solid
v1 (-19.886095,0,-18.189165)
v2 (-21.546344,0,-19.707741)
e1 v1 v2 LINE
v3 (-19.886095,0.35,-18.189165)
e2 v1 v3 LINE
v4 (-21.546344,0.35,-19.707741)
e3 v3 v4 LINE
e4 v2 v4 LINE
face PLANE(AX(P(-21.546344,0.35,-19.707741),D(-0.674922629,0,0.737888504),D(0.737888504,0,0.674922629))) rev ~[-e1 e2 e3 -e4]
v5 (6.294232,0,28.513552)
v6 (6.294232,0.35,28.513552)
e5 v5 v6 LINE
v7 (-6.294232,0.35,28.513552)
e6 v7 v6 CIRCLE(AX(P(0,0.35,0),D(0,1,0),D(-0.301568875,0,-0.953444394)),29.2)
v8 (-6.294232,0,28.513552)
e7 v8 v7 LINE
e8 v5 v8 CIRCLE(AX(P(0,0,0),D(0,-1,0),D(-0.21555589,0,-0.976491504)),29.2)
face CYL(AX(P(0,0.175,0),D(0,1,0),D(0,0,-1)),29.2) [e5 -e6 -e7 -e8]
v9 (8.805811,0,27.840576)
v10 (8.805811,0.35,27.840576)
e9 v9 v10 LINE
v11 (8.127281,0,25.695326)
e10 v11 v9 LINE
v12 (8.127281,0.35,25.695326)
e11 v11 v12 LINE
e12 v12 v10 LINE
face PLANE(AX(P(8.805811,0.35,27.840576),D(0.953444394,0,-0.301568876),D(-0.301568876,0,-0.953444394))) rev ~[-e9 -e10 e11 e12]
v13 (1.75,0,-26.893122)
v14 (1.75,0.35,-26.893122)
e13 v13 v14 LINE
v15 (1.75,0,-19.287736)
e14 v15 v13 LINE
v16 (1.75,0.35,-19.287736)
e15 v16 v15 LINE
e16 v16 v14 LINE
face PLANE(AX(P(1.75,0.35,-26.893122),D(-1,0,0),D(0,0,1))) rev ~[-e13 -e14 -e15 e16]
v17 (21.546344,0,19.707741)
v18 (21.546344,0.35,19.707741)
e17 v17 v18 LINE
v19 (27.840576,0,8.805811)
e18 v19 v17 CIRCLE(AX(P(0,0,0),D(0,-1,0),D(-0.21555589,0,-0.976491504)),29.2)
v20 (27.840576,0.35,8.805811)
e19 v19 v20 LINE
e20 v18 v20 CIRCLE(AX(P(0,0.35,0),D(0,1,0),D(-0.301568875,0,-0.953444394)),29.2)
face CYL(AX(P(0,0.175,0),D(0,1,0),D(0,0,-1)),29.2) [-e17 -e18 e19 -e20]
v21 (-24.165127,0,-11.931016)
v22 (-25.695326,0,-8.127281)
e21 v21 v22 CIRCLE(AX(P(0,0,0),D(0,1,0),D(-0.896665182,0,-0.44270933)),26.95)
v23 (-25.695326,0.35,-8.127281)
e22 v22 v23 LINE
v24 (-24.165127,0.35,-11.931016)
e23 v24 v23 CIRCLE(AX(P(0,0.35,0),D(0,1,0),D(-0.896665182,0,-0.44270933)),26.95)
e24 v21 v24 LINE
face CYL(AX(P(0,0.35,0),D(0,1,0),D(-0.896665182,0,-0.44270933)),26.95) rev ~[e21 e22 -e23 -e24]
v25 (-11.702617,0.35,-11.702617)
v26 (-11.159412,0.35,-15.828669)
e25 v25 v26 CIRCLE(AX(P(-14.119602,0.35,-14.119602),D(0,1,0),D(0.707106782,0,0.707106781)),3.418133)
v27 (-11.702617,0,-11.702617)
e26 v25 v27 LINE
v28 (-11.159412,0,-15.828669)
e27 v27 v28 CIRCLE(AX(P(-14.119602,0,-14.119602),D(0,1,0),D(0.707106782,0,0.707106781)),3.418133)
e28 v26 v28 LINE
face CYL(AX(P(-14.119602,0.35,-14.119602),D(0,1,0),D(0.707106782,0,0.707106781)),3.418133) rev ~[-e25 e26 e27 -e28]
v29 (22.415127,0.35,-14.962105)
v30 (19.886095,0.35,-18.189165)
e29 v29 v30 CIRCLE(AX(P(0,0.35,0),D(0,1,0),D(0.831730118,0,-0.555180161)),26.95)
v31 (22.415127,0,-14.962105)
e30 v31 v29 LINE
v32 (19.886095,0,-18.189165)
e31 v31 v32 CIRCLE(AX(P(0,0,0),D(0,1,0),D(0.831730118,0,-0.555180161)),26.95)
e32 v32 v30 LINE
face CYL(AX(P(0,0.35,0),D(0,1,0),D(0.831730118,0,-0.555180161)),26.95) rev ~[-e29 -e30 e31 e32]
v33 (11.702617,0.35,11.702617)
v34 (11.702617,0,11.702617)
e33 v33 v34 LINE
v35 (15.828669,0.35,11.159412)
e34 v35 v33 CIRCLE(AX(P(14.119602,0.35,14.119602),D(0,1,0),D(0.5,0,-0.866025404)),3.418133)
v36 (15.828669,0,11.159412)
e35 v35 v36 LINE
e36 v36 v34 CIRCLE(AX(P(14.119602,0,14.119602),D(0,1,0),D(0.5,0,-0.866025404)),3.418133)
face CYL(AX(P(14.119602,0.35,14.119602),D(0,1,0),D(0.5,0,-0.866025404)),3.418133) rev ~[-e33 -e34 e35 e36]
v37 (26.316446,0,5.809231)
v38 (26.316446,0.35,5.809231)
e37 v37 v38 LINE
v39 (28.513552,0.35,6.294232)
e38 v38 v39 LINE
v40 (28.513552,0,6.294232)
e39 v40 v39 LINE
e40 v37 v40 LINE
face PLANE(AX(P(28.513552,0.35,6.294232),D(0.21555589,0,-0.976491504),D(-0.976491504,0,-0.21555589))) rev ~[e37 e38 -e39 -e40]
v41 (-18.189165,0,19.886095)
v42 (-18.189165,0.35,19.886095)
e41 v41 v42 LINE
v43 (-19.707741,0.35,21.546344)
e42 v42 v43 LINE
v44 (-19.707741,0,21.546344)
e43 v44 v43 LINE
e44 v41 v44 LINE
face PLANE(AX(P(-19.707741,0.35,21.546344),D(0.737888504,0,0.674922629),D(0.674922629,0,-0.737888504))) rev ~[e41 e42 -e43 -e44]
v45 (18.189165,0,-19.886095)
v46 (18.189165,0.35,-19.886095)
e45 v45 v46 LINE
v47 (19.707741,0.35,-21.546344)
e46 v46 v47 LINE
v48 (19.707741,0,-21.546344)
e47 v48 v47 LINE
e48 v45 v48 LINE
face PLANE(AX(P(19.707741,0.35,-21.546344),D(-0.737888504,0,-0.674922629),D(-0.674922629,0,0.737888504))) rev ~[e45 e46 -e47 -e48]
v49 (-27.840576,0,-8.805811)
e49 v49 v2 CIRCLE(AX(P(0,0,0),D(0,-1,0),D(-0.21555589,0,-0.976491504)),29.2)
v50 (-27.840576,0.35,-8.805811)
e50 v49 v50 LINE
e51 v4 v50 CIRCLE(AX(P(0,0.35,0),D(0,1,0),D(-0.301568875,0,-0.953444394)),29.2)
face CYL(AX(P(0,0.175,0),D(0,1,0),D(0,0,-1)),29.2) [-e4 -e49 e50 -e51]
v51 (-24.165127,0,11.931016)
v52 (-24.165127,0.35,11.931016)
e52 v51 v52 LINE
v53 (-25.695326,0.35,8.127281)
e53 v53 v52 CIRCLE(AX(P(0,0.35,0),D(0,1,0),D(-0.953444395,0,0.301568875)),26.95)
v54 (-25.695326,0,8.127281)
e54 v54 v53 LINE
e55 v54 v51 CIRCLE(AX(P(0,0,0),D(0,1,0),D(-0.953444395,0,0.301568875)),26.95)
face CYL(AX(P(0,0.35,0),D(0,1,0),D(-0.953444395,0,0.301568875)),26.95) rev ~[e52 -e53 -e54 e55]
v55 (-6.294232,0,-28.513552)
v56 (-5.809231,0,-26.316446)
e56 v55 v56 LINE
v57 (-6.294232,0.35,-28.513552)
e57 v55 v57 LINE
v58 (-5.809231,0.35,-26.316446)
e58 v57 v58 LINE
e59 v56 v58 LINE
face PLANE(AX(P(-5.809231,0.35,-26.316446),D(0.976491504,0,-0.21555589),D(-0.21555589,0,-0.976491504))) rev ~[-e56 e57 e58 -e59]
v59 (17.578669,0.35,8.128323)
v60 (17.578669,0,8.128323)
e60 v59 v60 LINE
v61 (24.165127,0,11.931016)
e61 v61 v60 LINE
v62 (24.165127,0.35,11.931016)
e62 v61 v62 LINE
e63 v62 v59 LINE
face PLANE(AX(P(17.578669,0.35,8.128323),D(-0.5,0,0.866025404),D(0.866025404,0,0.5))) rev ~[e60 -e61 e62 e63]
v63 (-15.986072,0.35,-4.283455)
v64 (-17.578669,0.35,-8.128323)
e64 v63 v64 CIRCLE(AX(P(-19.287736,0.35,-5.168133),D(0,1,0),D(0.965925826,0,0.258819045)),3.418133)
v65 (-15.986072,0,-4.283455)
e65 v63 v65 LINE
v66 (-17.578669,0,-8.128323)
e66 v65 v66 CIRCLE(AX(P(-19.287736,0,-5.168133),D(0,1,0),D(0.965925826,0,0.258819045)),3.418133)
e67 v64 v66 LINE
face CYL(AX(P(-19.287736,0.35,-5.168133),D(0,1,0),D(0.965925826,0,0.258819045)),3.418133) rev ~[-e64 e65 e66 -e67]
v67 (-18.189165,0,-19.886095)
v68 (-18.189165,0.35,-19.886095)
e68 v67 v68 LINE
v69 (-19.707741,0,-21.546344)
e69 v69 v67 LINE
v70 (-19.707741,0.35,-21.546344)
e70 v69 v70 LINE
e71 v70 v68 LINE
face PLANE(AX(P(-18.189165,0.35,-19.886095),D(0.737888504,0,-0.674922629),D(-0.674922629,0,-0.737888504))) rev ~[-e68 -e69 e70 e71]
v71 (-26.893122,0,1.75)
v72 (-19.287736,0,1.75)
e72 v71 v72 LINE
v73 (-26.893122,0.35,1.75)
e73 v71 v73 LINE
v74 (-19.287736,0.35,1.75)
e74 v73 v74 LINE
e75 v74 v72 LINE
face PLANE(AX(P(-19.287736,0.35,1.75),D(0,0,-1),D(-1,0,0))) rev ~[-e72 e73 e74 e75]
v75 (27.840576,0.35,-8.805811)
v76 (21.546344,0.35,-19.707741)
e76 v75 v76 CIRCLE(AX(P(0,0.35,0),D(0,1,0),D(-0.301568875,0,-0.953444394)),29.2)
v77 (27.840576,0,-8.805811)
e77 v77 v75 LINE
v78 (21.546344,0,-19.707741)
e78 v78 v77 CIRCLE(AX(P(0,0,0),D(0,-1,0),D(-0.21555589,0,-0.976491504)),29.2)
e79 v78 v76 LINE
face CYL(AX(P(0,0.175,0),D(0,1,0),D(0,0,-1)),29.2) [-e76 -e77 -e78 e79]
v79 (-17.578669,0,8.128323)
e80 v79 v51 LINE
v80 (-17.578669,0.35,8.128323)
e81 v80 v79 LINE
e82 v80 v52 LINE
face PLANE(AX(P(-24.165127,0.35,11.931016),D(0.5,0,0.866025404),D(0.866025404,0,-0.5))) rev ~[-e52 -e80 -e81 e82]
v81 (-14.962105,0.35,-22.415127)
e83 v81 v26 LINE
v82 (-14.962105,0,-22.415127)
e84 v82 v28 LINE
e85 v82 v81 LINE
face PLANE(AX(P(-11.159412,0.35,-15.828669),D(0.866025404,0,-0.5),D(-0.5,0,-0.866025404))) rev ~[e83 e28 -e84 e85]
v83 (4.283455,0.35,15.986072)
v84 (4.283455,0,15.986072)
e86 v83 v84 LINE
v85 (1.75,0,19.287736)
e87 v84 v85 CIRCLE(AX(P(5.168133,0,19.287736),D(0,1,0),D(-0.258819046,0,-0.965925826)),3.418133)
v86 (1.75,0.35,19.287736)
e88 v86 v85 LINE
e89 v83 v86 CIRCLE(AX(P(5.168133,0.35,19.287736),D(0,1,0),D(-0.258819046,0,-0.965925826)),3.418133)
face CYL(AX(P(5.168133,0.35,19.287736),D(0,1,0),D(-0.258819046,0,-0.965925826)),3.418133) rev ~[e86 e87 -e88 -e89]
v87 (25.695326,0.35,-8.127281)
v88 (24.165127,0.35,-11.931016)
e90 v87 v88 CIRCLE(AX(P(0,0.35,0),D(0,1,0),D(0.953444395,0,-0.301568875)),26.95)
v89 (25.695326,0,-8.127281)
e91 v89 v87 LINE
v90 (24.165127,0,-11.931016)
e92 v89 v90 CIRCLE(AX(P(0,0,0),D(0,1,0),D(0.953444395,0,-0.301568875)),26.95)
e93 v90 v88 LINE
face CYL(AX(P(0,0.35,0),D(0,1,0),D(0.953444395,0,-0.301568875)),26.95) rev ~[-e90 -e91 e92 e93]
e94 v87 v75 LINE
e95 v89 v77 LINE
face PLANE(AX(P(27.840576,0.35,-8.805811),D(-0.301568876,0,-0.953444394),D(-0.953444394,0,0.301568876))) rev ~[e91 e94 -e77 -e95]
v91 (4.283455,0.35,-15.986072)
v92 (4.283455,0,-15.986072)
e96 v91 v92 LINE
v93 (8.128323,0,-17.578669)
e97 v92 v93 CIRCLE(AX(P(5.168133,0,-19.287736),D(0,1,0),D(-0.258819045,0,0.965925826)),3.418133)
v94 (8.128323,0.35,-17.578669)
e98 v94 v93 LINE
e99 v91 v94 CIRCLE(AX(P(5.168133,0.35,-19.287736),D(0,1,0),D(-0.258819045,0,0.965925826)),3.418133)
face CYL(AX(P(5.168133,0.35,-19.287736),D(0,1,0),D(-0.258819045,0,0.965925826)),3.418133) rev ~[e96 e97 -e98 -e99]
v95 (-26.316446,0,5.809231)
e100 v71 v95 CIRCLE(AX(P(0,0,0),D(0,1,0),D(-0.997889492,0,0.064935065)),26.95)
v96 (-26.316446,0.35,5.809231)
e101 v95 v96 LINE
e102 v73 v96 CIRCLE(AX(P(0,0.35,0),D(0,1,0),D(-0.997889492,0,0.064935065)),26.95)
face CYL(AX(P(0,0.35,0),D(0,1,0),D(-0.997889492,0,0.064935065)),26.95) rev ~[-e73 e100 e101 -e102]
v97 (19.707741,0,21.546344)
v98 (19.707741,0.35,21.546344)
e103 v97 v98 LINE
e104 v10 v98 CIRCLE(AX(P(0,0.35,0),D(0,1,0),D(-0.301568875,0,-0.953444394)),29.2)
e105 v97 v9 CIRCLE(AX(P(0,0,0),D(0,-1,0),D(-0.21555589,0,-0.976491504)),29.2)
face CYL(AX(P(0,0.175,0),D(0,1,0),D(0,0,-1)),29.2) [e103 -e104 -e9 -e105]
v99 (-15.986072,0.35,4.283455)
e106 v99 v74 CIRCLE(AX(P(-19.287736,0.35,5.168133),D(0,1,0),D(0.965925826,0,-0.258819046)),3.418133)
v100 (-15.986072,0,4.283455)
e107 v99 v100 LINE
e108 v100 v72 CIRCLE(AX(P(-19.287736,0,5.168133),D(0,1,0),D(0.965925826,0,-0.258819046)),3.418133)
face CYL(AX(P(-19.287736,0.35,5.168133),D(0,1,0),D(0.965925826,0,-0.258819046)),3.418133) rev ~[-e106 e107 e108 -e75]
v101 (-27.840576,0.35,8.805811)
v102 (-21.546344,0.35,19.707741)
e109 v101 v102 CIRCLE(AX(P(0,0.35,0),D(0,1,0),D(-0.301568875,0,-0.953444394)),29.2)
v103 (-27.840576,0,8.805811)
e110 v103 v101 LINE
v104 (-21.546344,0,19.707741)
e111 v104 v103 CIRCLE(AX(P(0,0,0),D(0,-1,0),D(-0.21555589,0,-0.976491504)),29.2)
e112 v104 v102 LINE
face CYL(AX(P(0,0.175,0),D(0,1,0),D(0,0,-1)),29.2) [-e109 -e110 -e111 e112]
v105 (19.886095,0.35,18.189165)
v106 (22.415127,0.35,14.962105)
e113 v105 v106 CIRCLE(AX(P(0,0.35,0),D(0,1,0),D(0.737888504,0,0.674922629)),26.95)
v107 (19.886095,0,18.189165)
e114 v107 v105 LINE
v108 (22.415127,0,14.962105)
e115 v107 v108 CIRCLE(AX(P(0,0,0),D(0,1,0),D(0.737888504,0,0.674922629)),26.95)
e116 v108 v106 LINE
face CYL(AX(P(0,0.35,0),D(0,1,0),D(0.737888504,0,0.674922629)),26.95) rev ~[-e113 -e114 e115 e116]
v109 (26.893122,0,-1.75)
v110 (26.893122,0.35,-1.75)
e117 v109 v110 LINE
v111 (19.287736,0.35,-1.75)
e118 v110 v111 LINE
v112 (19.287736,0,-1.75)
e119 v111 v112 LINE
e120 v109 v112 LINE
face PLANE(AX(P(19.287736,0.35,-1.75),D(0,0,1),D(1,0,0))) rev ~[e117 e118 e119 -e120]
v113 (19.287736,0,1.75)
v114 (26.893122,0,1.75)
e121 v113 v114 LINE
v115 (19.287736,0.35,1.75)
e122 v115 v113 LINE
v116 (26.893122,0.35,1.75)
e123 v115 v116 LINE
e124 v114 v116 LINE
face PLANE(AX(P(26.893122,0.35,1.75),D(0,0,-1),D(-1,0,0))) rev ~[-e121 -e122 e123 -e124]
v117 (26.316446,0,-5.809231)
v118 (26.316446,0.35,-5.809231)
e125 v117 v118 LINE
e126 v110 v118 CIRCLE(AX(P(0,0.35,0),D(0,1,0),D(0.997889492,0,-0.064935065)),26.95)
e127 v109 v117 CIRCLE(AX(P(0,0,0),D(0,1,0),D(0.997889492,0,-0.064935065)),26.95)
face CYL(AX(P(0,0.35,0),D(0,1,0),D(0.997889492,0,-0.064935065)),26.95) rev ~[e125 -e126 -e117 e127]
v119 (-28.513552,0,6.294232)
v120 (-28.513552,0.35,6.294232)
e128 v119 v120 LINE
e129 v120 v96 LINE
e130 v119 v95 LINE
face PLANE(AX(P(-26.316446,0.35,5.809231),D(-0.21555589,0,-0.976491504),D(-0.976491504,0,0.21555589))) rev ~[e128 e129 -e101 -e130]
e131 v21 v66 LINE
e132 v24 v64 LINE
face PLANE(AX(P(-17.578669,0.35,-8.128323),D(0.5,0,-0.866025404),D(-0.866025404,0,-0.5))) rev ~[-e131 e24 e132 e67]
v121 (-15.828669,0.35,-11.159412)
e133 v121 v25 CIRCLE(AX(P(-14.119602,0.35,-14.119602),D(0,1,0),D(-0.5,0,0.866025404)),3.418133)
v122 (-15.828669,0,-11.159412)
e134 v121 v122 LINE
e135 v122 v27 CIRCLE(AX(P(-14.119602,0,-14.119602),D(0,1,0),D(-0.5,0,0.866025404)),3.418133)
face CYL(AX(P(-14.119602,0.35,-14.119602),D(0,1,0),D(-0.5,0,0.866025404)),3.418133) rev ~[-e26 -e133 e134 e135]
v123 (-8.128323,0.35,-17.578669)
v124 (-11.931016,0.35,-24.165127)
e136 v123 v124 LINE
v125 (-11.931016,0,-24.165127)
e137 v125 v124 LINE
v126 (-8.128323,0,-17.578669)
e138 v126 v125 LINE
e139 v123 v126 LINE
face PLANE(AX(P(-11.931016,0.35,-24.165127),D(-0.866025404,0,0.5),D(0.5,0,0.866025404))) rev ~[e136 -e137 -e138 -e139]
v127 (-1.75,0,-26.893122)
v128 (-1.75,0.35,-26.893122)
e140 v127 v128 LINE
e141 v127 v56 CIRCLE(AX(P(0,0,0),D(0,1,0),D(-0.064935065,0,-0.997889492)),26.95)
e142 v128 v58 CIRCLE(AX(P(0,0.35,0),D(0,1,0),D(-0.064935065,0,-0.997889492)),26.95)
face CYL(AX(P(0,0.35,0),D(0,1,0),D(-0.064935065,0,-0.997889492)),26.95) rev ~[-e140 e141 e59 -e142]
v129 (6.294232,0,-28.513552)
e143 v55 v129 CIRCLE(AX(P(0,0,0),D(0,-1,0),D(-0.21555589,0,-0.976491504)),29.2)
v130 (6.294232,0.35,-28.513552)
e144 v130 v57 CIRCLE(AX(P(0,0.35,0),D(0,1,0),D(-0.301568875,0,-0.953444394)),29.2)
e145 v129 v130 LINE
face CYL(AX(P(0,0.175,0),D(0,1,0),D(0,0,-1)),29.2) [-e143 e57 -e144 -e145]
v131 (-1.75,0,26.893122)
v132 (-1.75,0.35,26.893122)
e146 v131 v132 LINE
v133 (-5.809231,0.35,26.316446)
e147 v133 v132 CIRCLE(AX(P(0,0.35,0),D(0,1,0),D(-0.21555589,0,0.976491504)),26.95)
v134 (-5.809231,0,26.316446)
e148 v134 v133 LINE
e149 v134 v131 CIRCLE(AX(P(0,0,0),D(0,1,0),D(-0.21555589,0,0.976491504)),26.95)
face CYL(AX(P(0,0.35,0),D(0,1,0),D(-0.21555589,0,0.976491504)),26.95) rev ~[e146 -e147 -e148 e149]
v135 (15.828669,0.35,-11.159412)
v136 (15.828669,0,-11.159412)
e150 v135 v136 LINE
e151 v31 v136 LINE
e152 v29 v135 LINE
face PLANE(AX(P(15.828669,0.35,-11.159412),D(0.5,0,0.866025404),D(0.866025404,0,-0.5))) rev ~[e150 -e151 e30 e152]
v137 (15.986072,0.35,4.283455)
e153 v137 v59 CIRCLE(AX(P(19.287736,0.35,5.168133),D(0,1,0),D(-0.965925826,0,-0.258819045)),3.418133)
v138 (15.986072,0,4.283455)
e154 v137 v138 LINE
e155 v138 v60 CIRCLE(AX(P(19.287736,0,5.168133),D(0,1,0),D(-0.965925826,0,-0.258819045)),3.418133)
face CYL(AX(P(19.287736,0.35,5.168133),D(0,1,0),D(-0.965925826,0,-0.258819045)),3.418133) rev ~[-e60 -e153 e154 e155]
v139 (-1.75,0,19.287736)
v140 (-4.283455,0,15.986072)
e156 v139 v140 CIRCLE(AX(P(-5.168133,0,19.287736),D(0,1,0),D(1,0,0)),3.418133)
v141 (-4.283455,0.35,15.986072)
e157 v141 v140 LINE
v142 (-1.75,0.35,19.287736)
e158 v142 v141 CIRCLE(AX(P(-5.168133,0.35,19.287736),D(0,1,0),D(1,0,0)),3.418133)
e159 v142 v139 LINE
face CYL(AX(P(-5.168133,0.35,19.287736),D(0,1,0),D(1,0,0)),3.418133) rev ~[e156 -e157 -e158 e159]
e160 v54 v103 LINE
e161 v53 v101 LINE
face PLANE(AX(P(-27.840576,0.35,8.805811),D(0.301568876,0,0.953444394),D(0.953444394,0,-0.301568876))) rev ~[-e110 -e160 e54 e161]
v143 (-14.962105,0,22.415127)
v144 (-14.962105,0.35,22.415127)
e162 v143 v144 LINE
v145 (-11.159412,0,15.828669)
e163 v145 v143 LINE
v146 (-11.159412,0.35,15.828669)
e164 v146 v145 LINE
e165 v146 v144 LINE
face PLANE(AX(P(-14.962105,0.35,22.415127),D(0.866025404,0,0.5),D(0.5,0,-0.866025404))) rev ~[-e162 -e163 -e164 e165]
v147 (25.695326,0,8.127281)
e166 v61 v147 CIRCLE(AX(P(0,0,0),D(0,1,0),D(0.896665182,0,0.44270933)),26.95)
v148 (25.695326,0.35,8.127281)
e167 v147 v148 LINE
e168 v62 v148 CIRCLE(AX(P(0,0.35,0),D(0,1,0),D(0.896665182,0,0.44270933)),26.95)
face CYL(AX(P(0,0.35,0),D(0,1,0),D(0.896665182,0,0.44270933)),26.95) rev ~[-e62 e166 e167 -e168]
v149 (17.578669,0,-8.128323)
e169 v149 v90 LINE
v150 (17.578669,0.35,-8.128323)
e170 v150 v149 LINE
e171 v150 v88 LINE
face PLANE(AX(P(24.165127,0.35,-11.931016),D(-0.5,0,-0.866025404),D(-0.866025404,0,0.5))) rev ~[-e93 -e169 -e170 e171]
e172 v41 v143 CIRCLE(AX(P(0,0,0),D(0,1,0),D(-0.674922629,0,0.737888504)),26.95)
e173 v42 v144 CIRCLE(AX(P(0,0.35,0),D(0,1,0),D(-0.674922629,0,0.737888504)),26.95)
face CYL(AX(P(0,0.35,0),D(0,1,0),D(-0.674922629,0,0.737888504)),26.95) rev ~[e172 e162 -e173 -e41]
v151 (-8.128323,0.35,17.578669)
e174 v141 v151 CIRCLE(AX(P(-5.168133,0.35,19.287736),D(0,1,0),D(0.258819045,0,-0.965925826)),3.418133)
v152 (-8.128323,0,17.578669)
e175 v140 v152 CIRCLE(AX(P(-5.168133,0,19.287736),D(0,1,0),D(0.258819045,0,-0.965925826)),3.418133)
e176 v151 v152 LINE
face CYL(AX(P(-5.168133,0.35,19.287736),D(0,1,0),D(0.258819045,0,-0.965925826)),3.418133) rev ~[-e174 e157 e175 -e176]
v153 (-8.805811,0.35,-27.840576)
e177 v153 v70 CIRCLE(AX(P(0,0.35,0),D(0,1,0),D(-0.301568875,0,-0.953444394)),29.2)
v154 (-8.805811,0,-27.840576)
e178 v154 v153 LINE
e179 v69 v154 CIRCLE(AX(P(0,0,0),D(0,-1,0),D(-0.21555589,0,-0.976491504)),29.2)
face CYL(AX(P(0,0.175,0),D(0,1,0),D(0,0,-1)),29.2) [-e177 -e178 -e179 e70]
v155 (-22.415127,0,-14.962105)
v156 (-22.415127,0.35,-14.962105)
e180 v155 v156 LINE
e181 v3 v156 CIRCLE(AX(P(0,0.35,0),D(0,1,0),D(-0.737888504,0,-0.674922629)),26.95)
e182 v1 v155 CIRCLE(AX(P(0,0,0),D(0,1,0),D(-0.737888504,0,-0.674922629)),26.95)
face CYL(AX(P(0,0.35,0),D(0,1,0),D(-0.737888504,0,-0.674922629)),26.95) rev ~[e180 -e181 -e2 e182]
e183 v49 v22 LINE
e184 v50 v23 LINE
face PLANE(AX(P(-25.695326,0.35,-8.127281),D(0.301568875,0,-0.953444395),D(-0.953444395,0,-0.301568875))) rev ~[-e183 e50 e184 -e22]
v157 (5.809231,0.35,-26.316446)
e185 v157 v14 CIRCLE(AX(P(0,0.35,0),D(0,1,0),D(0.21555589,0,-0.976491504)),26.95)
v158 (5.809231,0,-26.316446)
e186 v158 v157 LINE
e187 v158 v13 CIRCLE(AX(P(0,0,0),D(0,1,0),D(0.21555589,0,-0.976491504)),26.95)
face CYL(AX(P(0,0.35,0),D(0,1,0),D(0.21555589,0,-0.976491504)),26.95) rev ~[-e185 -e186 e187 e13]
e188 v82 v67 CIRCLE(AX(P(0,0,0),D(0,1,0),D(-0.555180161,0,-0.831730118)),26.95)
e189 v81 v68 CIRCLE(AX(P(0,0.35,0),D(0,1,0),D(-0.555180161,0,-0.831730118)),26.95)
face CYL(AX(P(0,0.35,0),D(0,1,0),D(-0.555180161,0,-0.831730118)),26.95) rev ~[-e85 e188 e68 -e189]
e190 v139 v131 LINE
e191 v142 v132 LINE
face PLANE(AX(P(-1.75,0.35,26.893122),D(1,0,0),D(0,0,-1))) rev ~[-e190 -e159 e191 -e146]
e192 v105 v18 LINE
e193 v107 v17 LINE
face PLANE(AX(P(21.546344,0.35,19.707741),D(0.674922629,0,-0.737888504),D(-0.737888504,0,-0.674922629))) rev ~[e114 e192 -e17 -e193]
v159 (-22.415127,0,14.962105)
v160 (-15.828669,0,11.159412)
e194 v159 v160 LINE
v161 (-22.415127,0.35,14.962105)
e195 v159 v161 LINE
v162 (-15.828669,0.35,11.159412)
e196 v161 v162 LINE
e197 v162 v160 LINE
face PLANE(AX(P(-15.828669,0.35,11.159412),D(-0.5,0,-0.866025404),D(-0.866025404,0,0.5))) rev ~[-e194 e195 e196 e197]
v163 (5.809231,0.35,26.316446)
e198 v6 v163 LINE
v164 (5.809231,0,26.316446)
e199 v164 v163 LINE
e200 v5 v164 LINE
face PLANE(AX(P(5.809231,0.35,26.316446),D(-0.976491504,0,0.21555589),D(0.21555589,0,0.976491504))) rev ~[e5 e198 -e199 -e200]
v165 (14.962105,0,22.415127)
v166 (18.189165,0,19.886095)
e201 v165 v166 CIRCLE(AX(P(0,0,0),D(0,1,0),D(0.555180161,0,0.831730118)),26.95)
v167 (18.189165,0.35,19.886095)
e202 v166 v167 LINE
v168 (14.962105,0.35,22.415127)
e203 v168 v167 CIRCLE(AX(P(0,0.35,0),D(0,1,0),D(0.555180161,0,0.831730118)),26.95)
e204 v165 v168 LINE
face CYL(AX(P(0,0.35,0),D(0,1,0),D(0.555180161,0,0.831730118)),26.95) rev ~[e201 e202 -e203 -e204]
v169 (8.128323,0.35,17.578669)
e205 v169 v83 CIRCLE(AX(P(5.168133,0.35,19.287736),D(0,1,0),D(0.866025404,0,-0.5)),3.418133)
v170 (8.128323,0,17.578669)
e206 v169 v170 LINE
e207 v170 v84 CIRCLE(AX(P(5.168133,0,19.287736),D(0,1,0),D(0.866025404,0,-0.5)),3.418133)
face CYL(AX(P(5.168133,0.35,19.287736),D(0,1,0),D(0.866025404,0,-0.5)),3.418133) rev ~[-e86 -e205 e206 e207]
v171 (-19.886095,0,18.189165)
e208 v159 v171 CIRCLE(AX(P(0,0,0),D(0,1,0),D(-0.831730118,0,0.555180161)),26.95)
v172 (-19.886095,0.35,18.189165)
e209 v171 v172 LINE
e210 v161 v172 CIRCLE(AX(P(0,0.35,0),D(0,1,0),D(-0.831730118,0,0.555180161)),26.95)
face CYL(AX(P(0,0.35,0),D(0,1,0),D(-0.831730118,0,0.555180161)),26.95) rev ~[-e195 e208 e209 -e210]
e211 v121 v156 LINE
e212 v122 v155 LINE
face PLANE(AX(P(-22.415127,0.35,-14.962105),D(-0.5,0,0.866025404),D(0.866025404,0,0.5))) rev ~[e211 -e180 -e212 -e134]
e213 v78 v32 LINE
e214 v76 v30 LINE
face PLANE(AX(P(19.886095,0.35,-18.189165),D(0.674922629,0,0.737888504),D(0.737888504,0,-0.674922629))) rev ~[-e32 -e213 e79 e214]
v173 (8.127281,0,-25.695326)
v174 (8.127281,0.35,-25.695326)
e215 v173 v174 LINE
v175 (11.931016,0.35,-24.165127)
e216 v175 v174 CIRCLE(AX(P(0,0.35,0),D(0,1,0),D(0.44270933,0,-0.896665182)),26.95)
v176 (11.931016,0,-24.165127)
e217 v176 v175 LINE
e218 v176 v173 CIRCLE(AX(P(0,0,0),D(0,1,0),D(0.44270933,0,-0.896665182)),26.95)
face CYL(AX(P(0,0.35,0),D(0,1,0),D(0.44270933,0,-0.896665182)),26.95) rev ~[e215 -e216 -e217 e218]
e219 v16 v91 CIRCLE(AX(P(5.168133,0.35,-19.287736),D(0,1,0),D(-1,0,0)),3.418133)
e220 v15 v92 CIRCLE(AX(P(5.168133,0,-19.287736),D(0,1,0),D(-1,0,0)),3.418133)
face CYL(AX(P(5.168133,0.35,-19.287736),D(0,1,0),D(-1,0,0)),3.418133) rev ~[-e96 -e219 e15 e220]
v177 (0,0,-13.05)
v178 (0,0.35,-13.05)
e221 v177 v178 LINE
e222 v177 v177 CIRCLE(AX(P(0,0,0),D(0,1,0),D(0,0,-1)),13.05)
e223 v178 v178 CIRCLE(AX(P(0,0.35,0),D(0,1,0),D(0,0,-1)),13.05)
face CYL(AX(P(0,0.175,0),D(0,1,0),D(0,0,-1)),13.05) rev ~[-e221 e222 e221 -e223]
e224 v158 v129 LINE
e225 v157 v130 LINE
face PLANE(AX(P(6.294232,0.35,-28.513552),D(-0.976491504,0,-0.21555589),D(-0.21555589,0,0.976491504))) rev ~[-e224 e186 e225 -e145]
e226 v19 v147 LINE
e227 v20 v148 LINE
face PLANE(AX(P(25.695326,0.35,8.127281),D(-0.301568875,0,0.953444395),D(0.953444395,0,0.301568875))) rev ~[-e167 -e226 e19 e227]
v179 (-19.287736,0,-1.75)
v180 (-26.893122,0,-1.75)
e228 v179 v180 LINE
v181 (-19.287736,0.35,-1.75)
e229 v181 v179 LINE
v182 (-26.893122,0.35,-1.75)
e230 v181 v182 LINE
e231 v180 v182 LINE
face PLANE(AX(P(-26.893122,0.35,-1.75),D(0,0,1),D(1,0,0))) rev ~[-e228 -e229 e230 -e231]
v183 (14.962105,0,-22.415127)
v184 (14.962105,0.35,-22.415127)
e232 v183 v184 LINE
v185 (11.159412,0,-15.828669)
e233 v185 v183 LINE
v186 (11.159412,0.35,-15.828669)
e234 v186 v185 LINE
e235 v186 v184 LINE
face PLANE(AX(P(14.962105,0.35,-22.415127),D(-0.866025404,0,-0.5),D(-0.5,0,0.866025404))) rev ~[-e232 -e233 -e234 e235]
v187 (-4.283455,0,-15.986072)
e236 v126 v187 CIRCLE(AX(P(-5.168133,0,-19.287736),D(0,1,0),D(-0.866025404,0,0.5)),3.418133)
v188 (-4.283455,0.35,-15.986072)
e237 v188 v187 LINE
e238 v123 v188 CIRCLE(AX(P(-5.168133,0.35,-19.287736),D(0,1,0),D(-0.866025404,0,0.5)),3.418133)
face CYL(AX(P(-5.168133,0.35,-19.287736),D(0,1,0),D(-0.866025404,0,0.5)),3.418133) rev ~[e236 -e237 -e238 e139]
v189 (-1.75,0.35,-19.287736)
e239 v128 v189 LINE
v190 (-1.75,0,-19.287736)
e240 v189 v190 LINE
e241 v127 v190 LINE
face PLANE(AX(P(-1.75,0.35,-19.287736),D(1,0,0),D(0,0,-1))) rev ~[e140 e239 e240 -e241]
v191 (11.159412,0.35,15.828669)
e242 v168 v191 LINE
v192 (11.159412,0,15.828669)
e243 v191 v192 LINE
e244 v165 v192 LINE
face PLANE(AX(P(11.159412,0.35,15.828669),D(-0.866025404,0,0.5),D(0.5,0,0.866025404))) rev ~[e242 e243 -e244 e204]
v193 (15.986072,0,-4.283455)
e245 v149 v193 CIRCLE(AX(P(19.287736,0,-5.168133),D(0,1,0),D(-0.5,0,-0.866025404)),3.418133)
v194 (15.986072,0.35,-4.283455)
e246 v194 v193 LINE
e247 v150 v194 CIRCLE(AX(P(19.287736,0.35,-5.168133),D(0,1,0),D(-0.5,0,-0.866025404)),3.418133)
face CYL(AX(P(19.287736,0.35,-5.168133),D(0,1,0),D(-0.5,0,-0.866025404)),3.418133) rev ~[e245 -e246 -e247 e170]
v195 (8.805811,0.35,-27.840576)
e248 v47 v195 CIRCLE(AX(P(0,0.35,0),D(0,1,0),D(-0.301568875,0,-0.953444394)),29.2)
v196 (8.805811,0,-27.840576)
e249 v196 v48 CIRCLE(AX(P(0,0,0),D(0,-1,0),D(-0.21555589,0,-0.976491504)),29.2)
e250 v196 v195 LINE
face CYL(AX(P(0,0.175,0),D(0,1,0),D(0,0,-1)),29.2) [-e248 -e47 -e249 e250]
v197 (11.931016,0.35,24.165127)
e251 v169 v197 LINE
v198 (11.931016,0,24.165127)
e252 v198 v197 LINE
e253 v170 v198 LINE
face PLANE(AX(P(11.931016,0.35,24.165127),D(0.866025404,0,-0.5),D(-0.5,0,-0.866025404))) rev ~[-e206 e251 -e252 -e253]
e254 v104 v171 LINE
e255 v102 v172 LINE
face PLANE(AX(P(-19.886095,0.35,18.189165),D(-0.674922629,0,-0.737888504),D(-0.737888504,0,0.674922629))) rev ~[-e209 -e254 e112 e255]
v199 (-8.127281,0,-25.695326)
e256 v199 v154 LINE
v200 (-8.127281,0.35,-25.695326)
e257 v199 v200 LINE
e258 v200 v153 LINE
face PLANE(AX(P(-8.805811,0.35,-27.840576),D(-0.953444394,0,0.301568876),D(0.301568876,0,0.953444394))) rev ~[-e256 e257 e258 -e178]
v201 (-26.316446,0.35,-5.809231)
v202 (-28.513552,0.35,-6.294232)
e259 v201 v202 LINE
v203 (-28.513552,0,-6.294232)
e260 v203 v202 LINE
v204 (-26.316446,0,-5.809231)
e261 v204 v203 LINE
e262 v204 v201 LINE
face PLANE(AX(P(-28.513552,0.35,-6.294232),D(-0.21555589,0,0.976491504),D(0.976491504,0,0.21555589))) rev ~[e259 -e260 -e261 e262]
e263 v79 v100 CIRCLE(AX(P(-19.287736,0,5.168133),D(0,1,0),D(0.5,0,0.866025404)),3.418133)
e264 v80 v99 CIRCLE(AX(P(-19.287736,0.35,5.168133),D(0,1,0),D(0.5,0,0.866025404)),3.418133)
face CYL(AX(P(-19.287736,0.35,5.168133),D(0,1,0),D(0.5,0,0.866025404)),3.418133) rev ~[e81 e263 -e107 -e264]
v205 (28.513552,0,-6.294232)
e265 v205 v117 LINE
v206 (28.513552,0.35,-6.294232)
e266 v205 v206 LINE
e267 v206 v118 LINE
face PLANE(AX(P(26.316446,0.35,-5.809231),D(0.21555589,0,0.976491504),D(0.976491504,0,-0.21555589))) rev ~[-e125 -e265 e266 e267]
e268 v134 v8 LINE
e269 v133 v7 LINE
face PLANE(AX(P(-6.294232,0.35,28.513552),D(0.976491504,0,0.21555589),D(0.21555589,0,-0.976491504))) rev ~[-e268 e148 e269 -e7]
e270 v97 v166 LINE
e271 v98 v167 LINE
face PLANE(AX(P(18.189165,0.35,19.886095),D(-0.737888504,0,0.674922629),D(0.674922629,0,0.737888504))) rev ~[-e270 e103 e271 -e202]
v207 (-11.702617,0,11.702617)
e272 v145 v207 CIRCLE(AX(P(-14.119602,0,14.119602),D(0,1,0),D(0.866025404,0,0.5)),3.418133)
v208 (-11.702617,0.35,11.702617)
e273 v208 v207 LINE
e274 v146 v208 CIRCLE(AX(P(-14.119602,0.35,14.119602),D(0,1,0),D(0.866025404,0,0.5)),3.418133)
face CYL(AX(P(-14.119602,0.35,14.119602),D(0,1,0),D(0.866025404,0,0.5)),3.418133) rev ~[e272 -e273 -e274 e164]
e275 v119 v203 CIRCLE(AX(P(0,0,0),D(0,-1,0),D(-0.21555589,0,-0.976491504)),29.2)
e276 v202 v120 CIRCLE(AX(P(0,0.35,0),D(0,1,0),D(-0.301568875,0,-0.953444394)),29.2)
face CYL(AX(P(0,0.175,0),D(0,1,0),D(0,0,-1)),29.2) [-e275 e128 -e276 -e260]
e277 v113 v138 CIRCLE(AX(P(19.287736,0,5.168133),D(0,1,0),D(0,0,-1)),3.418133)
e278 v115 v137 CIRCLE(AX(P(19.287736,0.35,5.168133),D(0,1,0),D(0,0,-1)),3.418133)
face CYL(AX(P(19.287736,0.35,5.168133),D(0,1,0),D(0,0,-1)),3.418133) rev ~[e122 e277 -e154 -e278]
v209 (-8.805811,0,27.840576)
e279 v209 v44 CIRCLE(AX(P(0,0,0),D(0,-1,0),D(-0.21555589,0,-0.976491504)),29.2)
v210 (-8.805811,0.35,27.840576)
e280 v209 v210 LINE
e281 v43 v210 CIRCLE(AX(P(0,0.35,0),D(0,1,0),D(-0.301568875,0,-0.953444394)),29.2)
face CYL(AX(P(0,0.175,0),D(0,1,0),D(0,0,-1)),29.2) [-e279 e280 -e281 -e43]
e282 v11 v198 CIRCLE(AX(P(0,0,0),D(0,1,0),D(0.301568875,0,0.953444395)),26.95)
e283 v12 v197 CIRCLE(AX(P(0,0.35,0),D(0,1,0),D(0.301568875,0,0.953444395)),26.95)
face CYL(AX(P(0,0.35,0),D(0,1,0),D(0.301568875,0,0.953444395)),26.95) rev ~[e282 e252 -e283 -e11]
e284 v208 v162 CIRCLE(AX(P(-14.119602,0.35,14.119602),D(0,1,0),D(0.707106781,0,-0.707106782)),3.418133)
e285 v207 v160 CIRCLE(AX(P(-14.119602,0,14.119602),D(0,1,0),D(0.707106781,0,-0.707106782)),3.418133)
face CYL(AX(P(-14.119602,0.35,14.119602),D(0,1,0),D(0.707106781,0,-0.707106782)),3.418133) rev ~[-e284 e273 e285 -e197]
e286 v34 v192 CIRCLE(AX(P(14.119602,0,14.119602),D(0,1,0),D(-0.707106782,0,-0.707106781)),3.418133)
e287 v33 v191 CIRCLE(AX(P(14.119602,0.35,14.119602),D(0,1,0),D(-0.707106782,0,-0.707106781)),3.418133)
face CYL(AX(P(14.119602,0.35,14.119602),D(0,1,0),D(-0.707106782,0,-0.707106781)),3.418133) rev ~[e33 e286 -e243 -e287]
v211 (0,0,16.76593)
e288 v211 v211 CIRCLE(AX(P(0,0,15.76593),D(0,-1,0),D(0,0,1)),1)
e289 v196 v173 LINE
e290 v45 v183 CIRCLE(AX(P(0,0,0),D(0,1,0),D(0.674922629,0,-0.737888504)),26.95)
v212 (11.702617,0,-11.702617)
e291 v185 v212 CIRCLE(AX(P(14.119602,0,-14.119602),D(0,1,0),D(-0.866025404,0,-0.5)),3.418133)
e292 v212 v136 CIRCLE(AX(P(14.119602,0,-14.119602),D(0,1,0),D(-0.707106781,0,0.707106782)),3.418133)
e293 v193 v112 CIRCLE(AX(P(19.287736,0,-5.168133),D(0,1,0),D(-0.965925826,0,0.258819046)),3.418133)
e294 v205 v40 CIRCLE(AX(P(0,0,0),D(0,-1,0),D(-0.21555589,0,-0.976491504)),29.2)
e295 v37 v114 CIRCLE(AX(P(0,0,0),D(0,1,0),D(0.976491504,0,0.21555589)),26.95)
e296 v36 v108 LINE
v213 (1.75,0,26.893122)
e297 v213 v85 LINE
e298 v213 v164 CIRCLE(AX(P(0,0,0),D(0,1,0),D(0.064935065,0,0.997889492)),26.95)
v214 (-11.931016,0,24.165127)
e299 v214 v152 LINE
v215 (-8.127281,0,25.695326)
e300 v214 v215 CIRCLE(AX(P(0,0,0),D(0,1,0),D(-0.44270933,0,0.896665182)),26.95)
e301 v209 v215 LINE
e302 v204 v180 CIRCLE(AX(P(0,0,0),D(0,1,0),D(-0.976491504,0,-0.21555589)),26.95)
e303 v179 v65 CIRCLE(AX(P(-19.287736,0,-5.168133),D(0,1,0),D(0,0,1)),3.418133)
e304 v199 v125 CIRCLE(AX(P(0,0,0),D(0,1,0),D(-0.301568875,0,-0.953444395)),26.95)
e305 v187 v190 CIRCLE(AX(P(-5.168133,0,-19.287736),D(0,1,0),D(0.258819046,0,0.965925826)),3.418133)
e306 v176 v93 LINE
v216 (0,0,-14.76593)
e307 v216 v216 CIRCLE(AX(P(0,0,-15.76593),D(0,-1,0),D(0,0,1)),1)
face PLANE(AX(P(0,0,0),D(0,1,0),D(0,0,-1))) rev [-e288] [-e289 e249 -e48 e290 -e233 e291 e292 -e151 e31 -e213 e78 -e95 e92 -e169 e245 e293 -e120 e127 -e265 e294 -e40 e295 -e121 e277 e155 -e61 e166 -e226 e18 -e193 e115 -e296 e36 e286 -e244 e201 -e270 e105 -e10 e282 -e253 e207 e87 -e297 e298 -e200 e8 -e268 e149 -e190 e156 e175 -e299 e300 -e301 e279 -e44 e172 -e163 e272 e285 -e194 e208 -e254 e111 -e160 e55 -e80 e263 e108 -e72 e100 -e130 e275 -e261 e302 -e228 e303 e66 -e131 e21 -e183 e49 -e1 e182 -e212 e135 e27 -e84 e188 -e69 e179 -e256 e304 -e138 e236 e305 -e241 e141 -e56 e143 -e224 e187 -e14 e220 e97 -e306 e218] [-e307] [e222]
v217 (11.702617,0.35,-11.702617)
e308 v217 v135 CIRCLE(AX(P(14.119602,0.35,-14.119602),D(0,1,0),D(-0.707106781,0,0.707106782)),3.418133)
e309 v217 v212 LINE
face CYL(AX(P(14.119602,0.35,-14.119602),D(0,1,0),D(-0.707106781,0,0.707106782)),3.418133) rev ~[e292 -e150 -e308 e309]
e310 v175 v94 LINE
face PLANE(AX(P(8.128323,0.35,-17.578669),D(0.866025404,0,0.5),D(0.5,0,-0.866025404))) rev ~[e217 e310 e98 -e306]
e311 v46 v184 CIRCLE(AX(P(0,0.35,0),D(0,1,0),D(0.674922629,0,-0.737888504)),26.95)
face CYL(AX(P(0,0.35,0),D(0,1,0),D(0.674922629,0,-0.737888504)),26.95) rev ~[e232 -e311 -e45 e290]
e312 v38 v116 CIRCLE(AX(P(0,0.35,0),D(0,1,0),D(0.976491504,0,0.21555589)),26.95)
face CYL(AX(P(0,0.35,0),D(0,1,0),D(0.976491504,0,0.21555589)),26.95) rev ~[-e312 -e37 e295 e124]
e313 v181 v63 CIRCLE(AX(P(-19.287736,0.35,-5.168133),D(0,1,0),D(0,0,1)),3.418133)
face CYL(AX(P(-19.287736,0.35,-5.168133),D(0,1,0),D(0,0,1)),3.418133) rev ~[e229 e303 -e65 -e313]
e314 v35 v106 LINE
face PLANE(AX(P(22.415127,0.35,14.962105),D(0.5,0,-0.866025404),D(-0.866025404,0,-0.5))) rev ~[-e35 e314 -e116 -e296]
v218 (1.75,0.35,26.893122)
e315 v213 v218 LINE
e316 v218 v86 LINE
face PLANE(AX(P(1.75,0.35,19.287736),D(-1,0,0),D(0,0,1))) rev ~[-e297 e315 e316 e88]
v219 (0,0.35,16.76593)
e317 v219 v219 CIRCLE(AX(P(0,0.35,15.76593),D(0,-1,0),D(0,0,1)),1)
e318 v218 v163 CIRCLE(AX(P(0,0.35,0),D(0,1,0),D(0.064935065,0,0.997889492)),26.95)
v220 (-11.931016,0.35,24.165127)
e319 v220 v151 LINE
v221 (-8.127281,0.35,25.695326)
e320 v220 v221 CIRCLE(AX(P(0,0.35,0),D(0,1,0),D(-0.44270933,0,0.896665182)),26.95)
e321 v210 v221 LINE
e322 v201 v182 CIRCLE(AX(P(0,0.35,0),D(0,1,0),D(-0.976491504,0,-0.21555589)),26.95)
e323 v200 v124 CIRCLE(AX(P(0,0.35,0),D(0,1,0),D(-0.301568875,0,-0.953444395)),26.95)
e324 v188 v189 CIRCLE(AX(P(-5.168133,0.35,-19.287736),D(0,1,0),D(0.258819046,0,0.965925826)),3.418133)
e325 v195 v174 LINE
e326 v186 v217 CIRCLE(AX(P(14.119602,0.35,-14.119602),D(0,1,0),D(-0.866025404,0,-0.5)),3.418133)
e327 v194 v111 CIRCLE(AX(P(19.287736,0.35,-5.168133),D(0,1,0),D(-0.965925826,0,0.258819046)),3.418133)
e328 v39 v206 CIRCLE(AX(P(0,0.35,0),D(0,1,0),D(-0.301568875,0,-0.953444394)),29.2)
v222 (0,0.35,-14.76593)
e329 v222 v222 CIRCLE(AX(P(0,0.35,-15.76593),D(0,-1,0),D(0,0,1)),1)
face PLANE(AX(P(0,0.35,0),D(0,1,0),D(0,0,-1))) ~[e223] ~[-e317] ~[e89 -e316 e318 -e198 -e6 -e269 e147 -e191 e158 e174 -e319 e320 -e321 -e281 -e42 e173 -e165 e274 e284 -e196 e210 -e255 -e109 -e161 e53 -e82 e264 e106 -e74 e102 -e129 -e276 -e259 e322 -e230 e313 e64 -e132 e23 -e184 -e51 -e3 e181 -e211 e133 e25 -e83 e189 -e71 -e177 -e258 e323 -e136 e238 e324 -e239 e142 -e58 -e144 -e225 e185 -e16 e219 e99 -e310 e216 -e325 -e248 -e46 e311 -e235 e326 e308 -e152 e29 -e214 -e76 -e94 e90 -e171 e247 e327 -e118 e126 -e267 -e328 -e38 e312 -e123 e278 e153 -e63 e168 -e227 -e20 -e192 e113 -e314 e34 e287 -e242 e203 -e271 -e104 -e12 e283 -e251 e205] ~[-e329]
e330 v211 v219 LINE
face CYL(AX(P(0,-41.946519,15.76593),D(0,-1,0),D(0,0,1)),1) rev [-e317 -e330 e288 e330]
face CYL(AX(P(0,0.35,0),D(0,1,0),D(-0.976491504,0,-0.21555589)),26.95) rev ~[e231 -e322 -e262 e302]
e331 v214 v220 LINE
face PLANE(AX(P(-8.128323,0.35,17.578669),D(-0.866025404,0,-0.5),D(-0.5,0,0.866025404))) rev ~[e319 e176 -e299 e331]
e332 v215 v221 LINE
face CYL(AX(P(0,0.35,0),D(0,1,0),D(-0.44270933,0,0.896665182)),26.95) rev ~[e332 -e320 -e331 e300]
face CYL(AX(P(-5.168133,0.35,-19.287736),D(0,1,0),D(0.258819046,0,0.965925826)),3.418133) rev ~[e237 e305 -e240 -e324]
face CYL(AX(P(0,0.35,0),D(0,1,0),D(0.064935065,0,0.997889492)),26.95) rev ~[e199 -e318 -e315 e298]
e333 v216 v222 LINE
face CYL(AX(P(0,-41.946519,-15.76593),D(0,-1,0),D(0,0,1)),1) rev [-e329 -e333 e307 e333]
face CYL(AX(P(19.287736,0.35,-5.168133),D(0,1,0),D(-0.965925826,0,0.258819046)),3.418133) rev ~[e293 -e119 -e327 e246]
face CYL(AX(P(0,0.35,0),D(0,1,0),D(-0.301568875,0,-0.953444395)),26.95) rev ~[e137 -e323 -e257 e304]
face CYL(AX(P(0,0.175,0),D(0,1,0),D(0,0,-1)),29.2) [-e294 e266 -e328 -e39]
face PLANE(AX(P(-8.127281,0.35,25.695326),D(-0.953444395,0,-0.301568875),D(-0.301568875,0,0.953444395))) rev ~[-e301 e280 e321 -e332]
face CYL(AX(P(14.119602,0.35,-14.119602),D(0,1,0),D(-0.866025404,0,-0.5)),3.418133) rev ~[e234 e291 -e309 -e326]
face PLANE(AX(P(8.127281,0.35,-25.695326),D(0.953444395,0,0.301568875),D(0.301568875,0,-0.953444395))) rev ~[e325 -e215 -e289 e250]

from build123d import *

# Parameters (mm, degrees)
SKETCH2_W               = 16.15
SKETCH2_H               = 0.35
CUT_EXTRUDE5_DEPTH      = 42.296519224
CIRPATTERN1_COUNT       = 12
CUT_EXTRUDE6_DEPTH      = 42.296519224
CUT_EXTRUDE6_DEPTH_BACK = 42.296519224
SKETCH5_R               = 1


with BuildPart() as part:
    # Sketch2 → Revolve2 (revolve)
    with BuildSketch(Plane.XY, mode=Mode.PRIVATE) as revolve2_sk:
        with Locations((21.125, 0.175)):
            Rectangle(SKETCH2_W, SKETCH2_H)
    revolve(revolve2_sk.sketch.rotate(Axis((0, 0, 0), (0, 1, 0)), 90), axis=Axis((0, 0, 0), (0, 1, 0)))

    # Sketch3 → Cut-Extrude5 (cut, symmetric)
    with BuildSketch(Plane(origin=(0, 0.35, 0), x_dir=(1, 0, 0), z_dir=(0, 1, 0))):
        with BuildLine():
            Line((-1.75, 19.287735518), (-1.75, 26.893121797))
            ThreePointArc((-1.75, 26.893121797), (-3.790597968, 26.682088881), (-5.809231237, 26.316446045))
            Line((-5.809231237, 26.316446045), (-6.29423199, 28.51355193))
            ThreePointArc((-6.29423199, 28.51355193), (-7.557516117, 28.205034128), (-8.805811164, 27.840576318))
            Line((-8.805811164, 27.840576318), (-8.127281194, 25.695326431))
            ThreePointArc((-8.127281194, 25.695326431), (-10.058290305, 25.002665781), (-11.931016442, 24.165126663))
            Line((-11.931016442, 24.165126663), (-8.128323302, 17.57866894))
            ThreePointArc((-8.128323302, 17.57866894), (-6.476196083, 16.129792255), (-4.283455194, 15.986072426))
            ThreePointArc((-4.283455194, 15.986072426), (-2.456345798, 17.206907895), (-1.75, 19.287735518))
        make_face()
    cut_extrude5 = extrude(amount=CUT_EXTRUDE5_DEPTH, both=True, mode=Mode.SUBTRACT)

    # CirPattern1: Cut-Extrude5 ×12 about axis
    cirpattern1_axis = Axis((0, 0, 0), (0, 1, 0))
    for i in range(1, CIRPATTERN1_COUNT):
        add(cut_extrude5.rotate(cirpattern1_axis, i * 360 / CIRPATTERN1_COUNT), mode=Mode.SUBTRACT)

    # Sketch5 → Cut-Extrude6 (cut, two sides: drawn at the far end of the back side and taken through both)
    with BuildSketch(Plane(origin=(0, 0.35, 0), x_dir=(1, 0, 0), z_dir=(0, 1, 0)).offset(-CUT_EXTRUDE6_DEPTH_BACK)):
        with Locations(Location((0, 15.765930428, 0), (0, 0, 270))):
            Circle(SKETCH5_R)
        with Locations(Location((0, -15.765930428, 0), (0, 0, 270))):
            Circle(SKETCH5_R)
    extrude(amount=CUT_EXTRUDE6_DEPTH + CUT_EXTRUDE6_DEPTH_BACK, mode=Mode.SUBTRACT)


solid = part.part
